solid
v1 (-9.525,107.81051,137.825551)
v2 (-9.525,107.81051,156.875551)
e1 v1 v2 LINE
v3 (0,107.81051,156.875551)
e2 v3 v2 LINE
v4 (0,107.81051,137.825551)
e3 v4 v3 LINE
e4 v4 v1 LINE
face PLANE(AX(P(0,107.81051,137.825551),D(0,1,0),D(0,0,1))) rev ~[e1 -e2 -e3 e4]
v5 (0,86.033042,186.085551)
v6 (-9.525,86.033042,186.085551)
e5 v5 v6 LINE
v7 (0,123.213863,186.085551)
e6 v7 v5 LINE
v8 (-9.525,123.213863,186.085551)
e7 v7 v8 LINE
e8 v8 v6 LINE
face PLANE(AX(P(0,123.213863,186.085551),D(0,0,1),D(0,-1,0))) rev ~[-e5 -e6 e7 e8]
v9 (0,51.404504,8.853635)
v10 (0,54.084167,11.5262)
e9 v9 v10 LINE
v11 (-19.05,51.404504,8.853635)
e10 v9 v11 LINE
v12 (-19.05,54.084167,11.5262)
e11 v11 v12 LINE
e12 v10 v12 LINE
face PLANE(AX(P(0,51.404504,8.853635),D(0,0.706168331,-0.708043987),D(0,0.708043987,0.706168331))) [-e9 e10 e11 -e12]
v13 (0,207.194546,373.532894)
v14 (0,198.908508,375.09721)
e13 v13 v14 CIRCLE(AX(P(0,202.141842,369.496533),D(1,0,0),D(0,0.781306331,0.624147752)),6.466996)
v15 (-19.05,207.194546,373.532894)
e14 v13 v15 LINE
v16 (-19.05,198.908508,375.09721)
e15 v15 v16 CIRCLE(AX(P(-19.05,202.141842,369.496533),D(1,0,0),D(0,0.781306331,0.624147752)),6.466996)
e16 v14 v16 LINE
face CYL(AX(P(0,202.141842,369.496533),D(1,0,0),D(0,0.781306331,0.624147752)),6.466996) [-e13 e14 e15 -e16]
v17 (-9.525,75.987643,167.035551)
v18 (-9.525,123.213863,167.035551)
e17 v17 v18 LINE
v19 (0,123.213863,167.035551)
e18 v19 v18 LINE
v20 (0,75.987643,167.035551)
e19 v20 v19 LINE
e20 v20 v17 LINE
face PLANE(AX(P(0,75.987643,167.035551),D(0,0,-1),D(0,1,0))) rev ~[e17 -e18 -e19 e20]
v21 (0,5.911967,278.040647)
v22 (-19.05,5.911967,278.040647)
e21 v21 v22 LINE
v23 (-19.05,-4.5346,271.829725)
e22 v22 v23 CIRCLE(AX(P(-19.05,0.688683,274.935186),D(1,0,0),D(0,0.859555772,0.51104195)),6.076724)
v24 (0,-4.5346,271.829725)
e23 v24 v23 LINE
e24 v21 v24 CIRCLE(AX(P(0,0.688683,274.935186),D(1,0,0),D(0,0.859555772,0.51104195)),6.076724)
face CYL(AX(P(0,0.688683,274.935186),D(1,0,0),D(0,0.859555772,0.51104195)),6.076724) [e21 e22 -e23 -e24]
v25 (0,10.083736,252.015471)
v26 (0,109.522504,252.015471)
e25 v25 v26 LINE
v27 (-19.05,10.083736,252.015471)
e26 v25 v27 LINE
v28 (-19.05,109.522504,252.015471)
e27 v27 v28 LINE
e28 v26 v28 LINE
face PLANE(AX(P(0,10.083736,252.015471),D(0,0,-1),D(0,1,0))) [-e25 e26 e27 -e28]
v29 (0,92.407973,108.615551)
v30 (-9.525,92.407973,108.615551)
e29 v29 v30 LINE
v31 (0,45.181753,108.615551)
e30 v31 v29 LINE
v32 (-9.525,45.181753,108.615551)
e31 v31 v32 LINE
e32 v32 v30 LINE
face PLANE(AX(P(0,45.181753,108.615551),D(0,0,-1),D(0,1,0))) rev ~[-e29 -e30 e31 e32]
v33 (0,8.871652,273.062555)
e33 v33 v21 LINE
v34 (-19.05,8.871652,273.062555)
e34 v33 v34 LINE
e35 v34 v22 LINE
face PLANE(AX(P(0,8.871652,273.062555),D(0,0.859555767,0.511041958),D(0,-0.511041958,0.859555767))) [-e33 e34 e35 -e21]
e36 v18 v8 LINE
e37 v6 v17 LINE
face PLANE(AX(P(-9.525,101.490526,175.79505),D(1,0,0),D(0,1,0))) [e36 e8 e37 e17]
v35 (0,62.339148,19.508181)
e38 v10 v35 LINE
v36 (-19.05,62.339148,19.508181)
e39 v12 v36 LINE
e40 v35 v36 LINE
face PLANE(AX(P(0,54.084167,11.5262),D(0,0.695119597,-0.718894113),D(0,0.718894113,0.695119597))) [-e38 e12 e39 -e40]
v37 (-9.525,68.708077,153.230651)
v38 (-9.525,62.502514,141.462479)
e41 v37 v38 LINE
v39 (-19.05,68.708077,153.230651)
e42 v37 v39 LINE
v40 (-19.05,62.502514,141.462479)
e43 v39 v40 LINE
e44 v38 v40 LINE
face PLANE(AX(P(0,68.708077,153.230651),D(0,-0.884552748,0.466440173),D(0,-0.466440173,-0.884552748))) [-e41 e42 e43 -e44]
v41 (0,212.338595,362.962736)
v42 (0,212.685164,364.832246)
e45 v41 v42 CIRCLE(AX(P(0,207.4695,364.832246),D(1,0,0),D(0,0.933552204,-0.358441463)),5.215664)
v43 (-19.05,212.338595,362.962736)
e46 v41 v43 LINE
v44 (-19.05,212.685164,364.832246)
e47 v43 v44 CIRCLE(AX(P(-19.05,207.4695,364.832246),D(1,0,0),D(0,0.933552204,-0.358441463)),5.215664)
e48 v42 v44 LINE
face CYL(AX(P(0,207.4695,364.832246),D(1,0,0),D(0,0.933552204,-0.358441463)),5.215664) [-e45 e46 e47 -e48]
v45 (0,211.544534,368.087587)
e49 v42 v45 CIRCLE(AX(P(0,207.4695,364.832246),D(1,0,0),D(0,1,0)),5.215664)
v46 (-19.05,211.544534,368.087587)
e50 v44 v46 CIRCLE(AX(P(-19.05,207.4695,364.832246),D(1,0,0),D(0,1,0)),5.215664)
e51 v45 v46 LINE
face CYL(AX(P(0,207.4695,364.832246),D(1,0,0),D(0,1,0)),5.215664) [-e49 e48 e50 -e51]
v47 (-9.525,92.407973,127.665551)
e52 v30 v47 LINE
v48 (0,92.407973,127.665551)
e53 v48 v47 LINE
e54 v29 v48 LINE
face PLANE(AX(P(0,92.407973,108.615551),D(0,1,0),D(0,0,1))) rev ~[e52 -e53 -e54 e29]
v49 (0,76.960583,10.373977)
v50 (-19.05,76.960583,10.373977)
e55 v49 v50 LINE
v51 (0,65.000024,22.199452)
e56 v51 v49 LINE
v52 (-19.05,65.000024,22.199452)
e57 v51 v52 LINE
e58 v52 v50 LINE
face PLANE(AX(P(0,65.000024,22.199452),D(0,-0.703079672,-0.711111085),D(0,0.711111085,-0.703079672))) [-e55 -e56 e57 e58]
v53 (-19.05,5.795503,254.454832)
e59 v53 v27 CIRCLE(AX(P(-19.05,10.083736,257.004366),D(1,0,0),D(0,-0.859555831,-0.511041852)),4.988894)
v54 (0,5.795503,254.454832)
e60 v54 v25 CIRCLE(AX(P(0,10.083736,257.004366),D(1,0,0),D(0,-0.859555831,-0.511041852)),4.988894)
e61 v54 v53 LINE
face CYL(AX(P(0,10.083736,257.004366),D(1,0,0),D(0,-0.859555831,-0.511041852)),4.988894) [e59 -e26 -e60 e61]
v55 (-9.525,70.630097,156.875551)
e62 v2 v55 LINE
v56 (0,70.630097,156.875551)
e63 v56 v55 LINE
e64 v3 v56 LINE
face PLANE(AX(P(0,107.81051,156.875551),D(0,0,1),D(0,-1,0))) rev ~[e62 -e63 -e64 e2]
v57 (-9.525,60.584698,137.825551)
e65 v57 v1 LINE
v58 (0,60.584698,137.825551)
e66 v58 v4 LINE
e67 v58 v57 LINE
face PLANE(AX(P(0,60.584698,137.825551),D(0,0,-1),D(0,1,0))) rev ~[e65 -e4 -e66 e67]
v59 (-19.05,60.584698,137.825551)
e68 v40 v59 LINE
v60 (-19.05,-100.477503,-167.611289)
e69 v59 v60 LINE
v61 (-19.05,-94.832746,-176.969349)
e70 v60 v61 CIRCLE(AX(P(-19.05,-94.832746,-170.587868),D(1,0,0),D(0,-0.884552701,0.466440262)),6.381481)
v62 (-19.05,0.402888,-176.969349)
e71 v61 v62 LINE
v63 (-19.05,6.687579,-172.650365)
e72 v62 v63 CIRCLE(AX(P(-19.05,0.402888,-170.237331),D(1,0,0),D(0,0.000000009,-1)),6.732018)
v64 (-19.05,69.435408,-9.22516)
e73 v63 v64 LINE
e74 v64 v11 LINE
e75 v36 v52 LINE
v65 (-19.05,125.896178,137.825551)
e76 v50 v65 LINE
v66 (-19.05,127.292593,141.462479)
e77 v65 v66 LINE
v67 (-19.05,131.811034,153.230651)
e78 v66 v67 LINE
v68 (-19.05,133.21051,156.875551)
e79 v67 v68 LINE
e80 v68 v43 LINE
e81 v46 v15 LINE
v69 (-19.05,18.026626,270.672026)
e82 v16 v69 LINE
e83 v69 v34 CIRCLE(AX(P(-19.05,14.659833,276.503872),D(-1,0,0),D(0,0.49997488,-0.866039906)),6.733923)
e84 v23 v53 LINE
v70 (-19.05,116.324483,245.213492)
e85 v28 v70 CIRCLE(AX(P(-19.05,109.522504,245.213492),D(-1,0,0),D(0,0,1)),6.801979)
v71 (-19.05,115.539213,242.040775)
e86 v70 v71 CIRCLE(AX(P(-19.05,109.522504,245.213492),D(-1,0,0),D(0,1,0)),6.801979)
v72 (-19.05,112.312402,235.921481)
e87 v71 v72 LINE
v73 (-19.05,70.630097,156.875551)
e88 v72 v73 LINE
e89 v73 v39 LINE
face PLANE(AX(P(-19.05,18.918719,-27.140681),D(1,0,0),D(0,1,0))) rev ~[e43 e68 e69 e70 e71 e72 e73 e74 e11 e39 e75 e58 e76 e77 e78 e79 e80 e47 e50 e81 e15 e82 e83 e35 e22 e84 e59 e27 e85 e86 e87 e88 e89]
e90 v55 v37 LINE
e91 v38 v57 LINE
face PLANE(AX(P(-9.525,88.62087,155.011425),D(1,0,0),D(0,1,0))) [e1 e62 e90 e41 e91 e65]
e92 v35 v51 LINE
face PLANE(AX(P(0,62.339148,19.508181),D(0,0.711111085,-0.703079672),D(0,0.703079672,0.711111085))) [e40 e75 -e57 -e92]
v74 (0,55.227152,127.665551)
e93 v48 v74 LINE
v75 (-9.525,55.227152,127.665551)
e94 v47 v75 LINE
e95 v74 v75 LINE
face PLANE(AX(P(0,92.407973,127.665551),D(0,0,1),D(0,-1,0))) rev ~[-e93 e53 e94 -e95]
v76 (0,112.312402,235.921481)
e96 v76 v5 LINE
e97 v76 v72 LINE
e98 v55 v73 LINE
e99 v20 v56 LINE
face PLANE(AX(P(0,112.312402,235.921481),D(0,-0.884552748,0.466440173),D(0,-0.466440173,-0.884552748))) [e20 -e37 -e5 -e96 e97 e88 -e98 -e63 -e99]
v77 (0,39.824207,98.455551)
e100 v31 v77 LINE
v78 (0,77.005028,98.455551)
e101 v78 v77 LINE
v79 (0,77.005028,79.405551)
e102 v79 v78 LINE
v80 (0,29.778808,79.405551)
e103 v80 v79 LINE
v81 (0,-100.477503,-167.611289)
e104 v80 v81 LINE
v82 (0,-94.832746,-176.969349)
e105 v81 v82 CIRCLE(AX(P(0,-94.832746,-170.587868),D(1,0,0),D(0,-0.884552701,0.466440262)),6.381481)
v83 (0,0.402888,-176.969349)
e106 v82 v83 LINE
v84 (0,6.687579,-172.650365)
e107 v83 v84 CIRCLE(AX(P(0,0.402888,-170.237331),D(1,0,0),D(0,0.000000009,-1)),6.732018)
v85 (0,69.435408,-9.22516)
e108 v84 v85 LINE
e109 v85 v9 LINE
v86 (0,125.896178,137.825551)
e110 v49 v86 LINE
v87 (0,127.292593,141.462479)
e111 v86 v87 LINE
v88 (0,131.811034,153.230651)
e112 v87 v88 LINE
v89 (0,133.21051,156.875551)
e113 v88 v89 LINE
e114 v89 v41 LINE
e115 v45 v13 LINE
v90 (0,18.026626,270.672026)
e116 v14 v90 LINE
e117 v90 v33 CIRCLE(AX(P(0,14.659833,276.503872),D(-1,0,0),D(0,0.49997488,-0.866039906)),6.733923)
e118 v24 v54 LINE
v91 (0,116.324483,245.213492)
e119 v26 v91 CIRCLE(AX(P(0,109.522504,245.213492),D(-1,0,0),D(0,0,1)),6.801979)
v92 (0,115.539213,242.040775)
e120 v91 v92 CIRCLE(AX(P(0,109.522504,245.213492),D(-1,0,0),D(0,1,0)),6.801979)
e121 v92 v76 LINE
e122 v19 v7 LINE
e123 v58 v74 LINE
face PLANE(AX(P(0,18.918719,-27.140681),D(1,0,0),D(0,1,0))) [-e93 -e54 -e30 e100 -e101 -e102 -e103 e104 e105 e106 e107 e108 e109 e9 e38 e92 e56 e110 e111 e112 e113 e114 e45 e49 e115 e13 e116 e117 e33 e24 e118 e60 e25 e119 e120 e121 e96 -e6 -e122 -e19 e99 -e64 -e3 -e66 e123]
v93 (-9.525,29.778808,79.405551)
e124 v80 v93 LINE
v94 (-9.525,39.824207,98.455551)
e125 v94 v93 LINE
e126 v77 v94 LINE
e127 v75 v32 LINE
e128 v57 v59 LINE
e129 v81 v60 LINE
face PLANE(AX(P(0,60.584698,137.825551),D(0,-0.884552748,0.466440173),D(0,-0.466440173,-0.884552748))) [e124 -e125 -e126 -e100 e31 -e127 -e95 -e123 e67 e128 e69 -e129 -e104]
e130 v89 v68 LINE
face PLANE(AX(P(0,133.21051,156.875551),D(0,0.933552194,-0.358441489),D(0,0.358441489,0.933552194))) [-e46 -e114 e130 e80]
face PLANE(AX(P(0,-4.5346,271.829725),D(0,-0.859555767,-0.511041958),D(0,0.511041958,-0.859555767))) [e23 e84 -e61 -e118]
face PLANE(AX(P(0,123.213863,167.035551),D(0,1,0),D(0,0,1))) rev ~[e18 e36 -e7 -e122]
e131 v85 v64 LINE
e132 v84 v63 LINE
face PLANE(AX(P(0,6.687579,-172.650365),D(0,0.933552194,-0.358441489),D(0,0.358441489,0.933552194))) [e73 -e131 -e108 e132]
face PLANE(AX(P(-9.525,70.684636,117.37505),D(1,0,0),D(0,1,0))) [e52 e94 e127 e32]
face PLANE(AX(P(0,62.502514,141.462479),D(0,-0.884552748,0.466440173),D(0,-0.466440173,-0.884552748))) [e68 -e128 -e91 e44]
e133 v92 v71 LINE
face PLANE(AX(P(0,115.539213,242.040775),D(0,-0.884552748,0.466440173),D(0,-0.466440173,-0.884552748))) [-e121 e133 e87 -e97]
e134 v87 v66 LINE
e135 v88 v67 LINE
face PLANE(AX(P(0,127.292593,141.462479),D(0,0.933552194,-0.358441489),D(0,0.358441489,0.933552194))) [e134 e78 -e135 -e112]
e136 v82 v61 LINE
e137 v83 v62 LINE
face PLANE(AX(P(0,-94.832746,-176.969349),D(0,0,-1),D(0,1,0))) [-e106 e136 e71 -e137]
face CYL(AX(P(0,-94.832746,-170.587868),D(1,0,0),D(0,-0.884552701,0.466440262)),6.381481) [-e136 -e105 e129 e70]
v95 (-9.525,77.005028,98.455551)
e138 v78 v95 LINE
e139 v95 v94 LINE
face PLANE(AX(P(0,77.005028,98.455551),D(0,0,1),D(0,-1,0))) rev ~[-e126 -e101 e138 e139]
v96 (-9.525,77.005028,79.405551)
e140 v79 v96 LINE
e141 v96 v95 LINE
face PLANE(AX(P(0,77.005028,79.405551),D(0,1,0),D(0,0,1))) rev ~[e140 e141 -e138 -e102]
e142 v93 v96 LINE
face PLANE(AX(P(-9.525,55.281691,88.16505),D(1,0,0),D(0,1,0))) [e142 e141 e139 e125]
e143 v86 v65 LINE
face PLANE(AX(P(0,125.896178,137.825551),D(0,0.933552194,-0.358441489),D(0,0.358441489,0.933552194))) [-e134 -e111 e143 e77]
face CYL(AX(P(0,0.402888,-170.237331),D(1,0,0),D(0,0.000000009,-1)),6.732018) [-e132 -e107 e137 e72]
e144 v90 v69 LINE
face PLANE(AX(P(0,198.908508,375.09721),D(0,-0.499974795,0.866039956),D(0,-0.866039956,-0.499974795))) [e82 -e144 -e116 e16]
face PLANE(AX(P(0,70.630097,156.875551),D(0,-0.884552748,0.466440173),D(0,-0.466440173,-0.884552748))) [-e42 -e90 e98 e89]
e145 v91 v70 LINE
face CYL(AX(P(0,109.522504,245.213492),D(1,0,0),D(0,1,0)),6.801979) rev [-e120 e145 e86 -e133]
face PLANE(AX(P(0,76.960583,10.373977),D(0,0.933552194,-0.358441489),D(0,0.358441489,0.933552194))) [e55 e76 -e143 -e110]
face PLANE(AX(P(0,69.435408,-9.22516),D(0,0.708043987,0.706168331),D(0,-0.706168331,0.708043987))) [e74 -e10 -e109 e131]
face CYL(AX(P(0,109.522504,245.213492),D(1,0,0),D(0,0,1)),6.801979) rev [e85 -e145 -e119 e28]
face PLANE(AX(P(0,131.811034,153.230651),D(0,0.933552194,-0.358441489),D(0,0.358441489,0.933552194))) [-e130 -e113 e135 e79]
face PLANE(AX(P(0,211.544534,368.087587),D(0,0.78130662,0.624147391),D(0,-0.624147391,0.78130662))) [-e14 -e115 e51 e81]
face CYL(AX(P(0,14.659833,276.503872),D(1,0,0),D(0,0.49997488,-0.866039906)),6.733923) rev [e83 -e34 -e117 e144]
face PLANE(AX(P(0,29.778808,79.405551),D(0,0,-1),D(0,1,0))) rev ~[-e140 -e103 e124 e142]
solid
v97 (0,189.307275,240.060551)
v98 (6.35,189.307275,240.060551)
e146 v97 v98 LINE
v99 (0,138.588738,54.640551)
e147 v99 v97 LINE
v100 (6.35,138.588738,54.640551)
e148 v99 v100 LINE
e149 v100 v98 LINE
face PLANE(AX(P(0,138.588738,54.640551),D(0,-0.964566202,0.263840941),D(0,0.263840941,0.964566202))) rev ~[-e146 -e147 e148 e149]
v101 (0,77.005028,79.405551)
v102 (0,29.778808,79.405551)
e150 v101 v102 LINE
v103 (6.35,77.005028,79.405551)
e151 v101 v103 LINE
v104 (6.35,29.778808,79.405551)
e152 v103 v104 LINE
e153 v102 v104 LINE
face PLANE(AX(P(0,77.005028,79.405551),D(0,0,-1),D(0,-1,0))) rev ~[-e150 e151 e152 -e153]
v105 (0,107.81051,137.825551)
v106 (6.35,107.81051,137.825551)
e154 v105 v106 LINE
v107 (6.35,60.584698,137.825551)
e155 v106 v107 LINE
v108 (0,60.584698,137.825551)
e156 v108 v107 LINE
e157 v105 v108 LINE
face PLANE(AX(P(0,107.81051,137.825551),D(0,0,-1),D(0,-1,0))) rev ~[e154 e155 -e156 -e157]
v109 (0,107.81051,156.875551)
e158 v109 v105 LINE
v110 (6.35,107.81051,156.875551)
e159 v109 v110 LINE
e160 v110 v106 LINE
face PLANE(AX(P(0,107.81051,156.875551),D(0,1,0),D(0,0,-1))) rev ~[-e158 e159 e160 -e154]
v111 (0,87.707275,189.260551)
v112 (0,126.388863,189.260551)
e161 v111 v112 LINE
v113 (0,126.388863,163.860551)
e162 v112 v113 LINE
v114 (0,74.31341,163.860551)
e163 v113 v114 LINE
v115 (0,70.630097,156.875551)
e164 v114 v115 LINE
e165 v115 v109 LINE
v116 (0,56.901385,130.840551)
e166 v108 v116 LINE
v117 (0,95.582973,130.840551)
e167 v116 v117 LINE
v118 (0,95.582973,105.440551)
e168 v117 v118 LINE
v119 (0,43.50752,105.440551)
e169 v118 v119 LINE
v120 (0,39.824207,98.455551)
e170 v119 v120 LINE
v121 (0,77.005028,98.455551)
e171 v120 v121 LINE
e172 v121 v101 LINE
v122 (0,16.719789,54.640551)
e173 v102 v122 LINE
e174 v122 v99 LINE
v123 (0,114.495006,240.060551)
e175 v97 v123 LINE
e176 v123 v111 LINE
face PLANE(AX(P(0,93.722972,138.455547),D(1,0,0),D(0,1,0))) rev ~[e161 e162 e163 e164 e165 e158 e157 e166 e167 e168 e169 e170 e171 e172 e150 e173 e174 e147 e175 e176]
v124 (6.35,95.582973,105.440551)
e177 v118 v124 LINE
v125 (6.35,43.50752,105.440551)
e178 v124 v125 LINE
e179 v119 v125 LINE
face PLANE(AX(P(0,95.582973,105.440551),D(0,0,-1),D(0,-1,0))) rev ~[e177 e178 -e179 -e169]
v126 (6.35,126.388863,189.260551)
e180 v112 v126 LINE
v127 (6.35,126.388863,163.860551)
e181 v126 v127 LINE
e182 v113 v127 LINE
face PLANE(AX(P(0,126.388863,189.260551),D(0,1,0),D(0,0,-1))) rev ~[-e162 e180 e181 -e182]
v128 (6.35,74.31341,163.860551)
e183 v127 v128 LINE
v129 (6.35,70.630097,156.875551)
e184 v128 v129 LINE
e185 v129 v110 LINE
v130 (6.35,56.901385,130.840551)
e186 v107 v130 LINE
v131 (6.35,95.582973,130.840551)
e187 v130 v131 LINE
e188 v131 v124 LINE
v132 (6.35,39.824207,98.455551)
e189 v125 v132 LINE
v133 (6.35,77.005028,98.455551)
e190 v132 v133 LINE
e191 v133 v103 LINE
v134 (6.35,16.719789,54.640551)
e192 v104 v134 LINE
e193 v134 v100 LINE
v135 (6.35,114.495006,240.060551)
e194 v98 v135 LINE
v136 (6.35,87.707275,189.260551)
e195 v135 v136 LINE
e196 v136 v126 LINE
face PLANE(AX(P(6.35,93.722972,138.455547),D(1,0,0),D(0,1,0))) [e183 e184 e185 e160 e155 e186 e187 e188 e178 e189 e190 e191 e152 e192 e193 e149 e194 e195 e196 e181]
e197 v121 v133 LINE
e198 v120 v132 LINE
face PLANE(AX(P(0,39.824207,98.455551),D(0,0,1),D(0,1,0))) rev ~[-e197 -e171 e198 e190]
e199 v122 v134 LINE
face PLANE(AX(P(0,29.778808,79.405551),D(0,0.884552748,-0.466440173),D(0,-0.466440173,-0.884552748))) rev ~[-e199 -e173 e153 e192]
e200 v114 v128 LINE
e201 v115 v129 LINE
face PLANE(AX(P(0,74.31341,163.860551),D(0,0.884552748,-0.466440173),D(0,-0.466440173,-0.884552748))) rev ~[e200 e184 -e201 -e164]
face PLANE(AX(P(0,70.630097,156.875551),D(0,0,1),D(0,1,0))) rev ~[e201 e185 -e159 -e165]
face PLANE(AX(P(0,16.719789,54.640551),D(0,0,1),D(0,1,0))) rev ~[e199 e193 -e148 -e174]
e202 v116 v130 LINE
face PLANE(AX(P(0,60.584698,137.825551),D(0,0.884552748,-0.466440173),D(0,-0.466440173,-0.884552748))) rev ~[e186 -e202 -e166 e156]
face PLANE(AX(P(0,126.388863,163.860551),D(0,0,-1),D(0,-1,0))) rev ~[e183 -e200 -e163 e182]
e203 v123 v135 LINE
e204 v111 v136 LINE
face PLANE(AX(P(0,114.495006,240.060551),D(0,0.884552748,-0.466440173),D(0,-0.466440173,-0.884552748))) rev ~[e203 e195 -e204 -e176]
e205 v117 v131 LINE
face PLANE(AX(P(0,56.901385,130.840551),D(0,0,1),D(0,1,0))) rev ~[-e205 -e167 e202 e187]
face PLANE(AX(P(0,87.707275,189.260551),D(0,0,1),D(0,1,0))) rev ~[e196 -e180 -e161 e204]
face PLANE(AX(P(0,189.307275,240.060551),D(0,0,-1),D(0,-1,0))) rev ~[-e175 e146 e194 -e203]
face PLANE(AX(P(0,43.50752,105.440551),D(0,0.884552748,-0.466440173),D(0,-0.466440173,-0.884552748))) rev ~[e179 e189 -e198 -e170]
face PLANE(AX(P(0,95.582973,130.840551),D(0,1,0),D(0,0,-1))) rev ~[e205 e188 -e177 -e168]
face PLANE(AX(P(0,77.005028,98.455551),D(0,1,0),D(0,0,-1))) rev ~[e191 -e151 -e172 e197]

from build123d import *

# Parameters (mm, degrees)
F1_DEPTH = 19.05
F2_DEPTH = 9.525
F4_DEPTH = 9.525
F6_DEPTH = 6.35


with BuildPart() as f1:
    # F0 (on Right) → F1 (new body)
    with BuildSketch(Plane.YZ):
        with BuildLine():
            Line((107.8105096246, 137.8255506157), (60.584697992, 137.8255506157))
            Line((60.584697992, 137.8255506157), (-100.4775027292, -167.6112887093))
            ThreePointArc((-100.4775027292, -167.6112887093), (-93.299548024, -164.393306065), (-88.4512654679, -170.5878683824))
            ThreePointArc((-88.4512654679, -170.5878683824), (-90.3203579793, -175.1002568729), (-94.8327464698, -176.9693493843))
            Line((-94.8327464698, -176.9693493843), (0.4028879757, -176.9693493843))
            ThreePointArc((0.4028879757, -176.9693493843), (-4.3573678281, -165.4770754727), (7.1349061245, -170.2373311774))
            ThreePointArc((7.1349061245, -170.2373311774), (7.0221296111, -171.4644043382), (6.6875785934, -172.6503650038))
            Line((6.6875785934, -172.6503650038), (69.4354078581, -9.2251603942))
            Line((69.4354078581, -9.2251603942), (51.4045041163, 8.8536352936))
            Line((51.4045041163, 8.8536352936), (35.6487024834, 24.651285966))
            Line((35.6487024834, 24.651285966), (49.2340543405, 37.7873572342))
            Line((49.2340543405, 37.7873572342), (65.0000235232, 22.1994516607))
            Line((65.0000235232, 22.1994516607), (76.9605831289, 10.3739767037))
            Line((76.9605831289, 10.3739767037), (125.8961779685, 137.8255506157))
            Line((125.8961779685, 137.8255506157), (107.8105096246, 137.8255506157))
        make_face()
        Polygon((54.0841673908, 11.5261999599), (62.3391481966, 19.5081806493), (49.2045912393, 32.4943936268), (41.0426405432, 24.6023664522), align=None)
        with BuildLine():
            ThreePointArc((-88.4512654679, -170.5878683824), (-93.299548024, -164.393306065), (-100.4775027292, -167.6112887093))
            ThreePointArc((-100.4775027292, -167.6112887093), (-100.2970985088, -173.8839503856), (-94.8327464698, -176.9693493843))
            ThreePointArc((-94.8327464698, -176.9693493843), (-90.3203579793, -175.1002568729), (-88.4512654679, -170.5878683824))
        make_face()
        with BuildLine():
            ThreePointArc((7.1349061245, -170.2373311774), (-4.3573678281, -165.4770754727), (0.4028879757, -176.9693493843))
            ThreePointArc((0.4028879757, -176.9693493843), (4.2157268763, -175.7855136017), (6.6875785934, -172.6503650038))
            ThreePointArc((6.6875785934, -172.6503650038), (7.0221296111, -171.4644043382), (7.1349061245, -170.2373311774))
        make_face()
        Polygon((107.8105096246, 153.2306506157), (68.7080773257, 153.2306506157), (62.5025140542, 141.4624789193), (107.8105096246, 141.4624789193), align=None)
        Polygon((70.6300970032, 156.8755506157), (68.7080773257, 153.2306506157), (107.8105096246, 153.2306506157), (107.8105096246, 156.8755506157), align=None)
        with BuildLine():
            ThreePointArc((5.9119667471, 278.0406470607), (-2.416777475, 280.1584694734), (-4.5346000097, 271.8297252823))
            ThreePointArc((-4.5346000097, 271.8297252823), (2.298982141, 269.0757053504), (6.7654075798, 274.935186095))
            ThreePointArc((6.7654075798, 274.935186095), (6.5481641351, 276.5454849077), (5.9119667471, 278.0406470607))
        make_face()
        with BuildLine():
            ThreePointArc((5.7955029154, 254.4548318699), (7.6169859512, 252.6679835461), (10.0837359097, 252.0154714584))
            ThreePointArc((10.0837359097, 252.0154714584), (13.6114167441, 253.4766847038), (15.0726299895, 257.0043655382))
            ThreePointArc((15.0726299895, 257.0043655382), (8.7617064204, 261.8149062738), (5.7955029154, 254.4548318699))
        make_face()
        with BuildLine():
            Line((12.2691077497, 267.3481449502), (18.0266256783, 270.6720260533))
            ThreePointArc((18.0266256783, 270.6720260533), (12.9585284918, 269.9884074479), (8.8716515535, 273.0625545461))
            Line((8.8716515535, 273.0625545461), (12.2691077497, 267.3481449502))
        make_face()
        with BuildLine():
            ThreePointArc((198.908507512, 375.0972100255), (195.9540529554, 367.6168261352), (202.5700754122, 363.0437318081))
            ThreePointArc((202.5700754122, 363.0437318081), (203.5452578089, 368.2678630513), (208.5946207116, 369.9251084256))
            ThreePointArc((208.5946207116, 369.9251084256), (208.170777629, 371.8361839166), (207.1945464433, 373.5328940164))
            ThreePointArc((207.1945464433, 373.5328940164), (203.3415493994, 375.8512742828), (198.908507512, 375.0972100255))
        make_face()
        with BuildLine():
            ThreePointArc((202.5700754122, 363.0437318081), (207.4262559095, 359.6167612843), (212.3385946935, 362.9627355317))
            ThreePointArc((212.3385946935, 362.9627355317), (212.5977898503, 363.8815645178), (212.6851640466, 364.8322456341))
            ThreePointArc((212.6851640466, 364.8322456341), (212.3917535412, 366.5569401802), (211.5445340178, 368.0875871289))
            ThreePointArc((211.5445340178, 368.0875871289), (210.2271300628, 369.2592791589), (208.5946207116, 369.9251084256))
            ThreePointArc((208.5946207116, 369.9251084256), (208.6052822642, 369.7109387298), (208.608837418, 369.4965333003))
            ThreePointArc((208.608837418, 369.4965333003), (206.8636749781, 365.0776733325), (202.5700754122, 363.0437318081))
        make_face()
        with BuildLine():
            ThreePointArc((208.5946207116, 369.9251084256), (203.5452578089, 368.2678630513), (202.5700754122, 363.0437318081))
            ThreePointArc((202.5700754122, 363.0437318081), (206.8636749781, 365.0776733325), (208.608837418, 369.4965333003))
            ThreePointArc((208.608837418, 369.4965333003), (208.6052822642, 369.7109387298), (208.5946207116, 369.9251084256))
        make_face()
        with BuildLine():
            ThreePointArc((208.5946207116, 369.9251084256), (210.2271300628, 369.2592791589), (211.5445340178, 368.0875871289))
            Line((211.5445340178, 368.0875871289), (207.1945464433, 373.5328940164))
            ThreePointArc((207.1945464433, 373.5328940164), (208.170777629, 371.8361839166), (208.5946207116, 369.9251084256))
        make_face()
        Polygon((62.3391481966, 19.5081806493), (65.0000235232, 22.1994516607), (49.2340543405, 37.7873572342), (35.6487024834, 24.651285966), (51.4045041163, 8.8536352936), (54.0841673908, 11.5261999599), (41.0426405432, 24.6023664522), (49.2045912393, 32.4943936268), align=None)
        with BuildLine():
            Line((112.3124022113, 235.9214813278), (70.6300970032, 156.8755506157))
            Line((70.6300970032, 156.8755506157), (107.8105096246, 156.8755506157))
            Line((107.8105096246, 156.8755506157), (133.2105096246, 156.8755506157))
            Line((133.2105096246, 156.8755506157), (212.3385946935, 362.9627355317))
            ThreePointArc((212.3385946935, 362.9627355317), (207.4262559095, 359.6167612843), (202.5700754122, 363.0437318081))
            ThreePointArc((202.5700754122, 363.0437318081), (195.9540529554, 367.6168261352), (198.908507512, 375.0972100255))
            Line((198.908507512, 375.0972100255), (18.0266256783, 270.6720260533))
            Line((18.0266256783, 270.6720260533), (12.2691077497, 267.3481449502))
            Line((12.2691077497, 267.3481449502), (8.8716515535, 273.0625545461))
            Line((8.8716515535, 273.0625545461), (5.9119667471, 278.0406470607))
            ThreePointArc((5.9119667471, 278.0406470607), (6.5481641351, 276.5454849077), (6.7654075798, 274.935186095))
            ThreePointArc((6.7654075798, 274.935186095), (2.298982141, 269.0757053504), (-4.5346000097, 271.8297252823))
            Line((-4.5346000097, 271.8297252823), (5.7955029154, 254.4548318699))
            ThreePointArc((5.7955029154, 254.4548318699), (8.7617064204, 261.8149062738), (15.0726299895, 257.0043655382))
            ThreePointArc((15.0726299895, 257.0043655382), (13.6114167441, 253.4766847038), (10.0837359097, 252.0154714584))
            Line((10.0837359097, 252.0154714584), (109.522503886, 252.0154714584))
            ThreePointArc((109.522503886, 252.0154714584), (114.3322296104, 250.0232178321), (116.3244832368, 245.2134921076))
            ThreePointArc((116.3244832368, 245.2134921076), (116.1252477883, 243.5792656699), (115.5392129758, 242.0407748468))
            Line((115.5392129758, 242.0407748468), (112.3124022113, 235.9214813278))
        make_face()
        Polygon((107.8105096246, 141.4624789193), (62.5025140542, 141.4624789193), (60.584697992, 137.8255506157), (107.8105096246, 137.8255506157), align=None)
        Polygon((131.8110341678, 153.2306506157), (107.8105096246, 153.2306506157), (107.8105096246, 141.4624789193), (127.2925926573, 141.4624789193), align=None)
        Polygon((107.8105096246, 156.8755506157), (107.8105096246, 153.2306506157), (131.8110341678, 153.2306506157), (133.2105096246, 156.8755506157), align=None)
        Polygon((127.2925926573, 141.4624789193), (107.8105096246, 141.4624789193), (107.8105096246, 137.8255506157), (125.8961779685, 137.8255506157), align=None)
    extrude(amount=-F1_DEPTH)

    # F0 (on Right) → F2 (cut)
    with BuildSketch(Plane.YZ):
        Polygon((70.6300970032, 156.8755506157), (68.7080773257, 153.2306506157), (107.8105096246, 153.2306506157), (107.8105096246, 156.8755506157), align=None)
        Polygon((107.8105096246, 153.2306506157), (68.7080773257, 153.2306506157), (62.5025140542, 141.4624789193), (107.8105096246, 141.4624789193), align=None)
        Polygon((107.8105096246, 141.4624789193), (62.5025140542, 141.4624789193), (60.584697992, 137.8255506157), (107.8105096246, 137.8255506157), align=None)
    extrude(amount=-F2_DEPTH, mode=Mode.SUBTRACT)

    # F3 (on face) → F4 (cut)
    with BuildSketch(Plane.YZ):
        Polygon((86.0330421537, 186.0855506157), (75.9876431425, 167.0355506157), (123.2138631425, 167.0355506157), (123.2138631425, 186.0855506157), align=None)
        Polygon((92.4079728415, 127.6655506157), (55.2271518527, 127.6655506157), (45.1817528415, 108.6155506157), (92.4079728415, 108.6155506157), align=None)
        Polygon((77.005027691, 98.4555506157), (39.8242067022, 98.4555506157), (29.778807691, 79.4055506157), (77.005027691, 79.4055506157), align=None)
    extrude(amount=-F4_DEPTH, mode=Mode.SUBTRACT)


with BuildPart() as f6:
    # F5 (on face) → F6 (new body)
    with BuildSketch(Plane.YZ):
        Polygon((87.7072753222, 189.2605506157), (126.3888631425, 189.2605506157), (126.3888631425, 163.8605506157), (75.9876431425, 163.8605506157), (74.3134099739, 163.8605506157), (70.6300970032, 156.8755506157), (107.8105096246, 156.8755506157), (107.8105096246, 137.8255506157), (60.584697992, 137.8255506157), (56.9013850212, 130.8405506157), (95.5829728415, 130.8405506157), (95.5829728415, 105.4405506157), (45.1817528415, 105.4405506157), (43.5075196729, 105.4405506157), (39.8242067022, 98.4555506157), (77.005027691, 98.4555506157), (77.005027691, 79.4055506157), (29.778807691, 79.4055506157), (16.7197889764, 54.6405506157), (45.1817528415, 54.6405506157), (93.9569297365, 54.6405506157), (165.1497578566, 240.0605506157), (126.3888631425, 240.0605506157), (114.4950060187, 240.0605506157), align=None)
        Polygon((189.3072753222, 240.0605506157), (165.1497578566, 240.0605506157), (93.9569297365, 54.6405506157), (95.5829728415, 54.6405506157), (138.5887376755, 54.6405506157), align=None)
    extrude(amount=F6_DEPTH)


solid = Compound([f1.part, f6.part])
